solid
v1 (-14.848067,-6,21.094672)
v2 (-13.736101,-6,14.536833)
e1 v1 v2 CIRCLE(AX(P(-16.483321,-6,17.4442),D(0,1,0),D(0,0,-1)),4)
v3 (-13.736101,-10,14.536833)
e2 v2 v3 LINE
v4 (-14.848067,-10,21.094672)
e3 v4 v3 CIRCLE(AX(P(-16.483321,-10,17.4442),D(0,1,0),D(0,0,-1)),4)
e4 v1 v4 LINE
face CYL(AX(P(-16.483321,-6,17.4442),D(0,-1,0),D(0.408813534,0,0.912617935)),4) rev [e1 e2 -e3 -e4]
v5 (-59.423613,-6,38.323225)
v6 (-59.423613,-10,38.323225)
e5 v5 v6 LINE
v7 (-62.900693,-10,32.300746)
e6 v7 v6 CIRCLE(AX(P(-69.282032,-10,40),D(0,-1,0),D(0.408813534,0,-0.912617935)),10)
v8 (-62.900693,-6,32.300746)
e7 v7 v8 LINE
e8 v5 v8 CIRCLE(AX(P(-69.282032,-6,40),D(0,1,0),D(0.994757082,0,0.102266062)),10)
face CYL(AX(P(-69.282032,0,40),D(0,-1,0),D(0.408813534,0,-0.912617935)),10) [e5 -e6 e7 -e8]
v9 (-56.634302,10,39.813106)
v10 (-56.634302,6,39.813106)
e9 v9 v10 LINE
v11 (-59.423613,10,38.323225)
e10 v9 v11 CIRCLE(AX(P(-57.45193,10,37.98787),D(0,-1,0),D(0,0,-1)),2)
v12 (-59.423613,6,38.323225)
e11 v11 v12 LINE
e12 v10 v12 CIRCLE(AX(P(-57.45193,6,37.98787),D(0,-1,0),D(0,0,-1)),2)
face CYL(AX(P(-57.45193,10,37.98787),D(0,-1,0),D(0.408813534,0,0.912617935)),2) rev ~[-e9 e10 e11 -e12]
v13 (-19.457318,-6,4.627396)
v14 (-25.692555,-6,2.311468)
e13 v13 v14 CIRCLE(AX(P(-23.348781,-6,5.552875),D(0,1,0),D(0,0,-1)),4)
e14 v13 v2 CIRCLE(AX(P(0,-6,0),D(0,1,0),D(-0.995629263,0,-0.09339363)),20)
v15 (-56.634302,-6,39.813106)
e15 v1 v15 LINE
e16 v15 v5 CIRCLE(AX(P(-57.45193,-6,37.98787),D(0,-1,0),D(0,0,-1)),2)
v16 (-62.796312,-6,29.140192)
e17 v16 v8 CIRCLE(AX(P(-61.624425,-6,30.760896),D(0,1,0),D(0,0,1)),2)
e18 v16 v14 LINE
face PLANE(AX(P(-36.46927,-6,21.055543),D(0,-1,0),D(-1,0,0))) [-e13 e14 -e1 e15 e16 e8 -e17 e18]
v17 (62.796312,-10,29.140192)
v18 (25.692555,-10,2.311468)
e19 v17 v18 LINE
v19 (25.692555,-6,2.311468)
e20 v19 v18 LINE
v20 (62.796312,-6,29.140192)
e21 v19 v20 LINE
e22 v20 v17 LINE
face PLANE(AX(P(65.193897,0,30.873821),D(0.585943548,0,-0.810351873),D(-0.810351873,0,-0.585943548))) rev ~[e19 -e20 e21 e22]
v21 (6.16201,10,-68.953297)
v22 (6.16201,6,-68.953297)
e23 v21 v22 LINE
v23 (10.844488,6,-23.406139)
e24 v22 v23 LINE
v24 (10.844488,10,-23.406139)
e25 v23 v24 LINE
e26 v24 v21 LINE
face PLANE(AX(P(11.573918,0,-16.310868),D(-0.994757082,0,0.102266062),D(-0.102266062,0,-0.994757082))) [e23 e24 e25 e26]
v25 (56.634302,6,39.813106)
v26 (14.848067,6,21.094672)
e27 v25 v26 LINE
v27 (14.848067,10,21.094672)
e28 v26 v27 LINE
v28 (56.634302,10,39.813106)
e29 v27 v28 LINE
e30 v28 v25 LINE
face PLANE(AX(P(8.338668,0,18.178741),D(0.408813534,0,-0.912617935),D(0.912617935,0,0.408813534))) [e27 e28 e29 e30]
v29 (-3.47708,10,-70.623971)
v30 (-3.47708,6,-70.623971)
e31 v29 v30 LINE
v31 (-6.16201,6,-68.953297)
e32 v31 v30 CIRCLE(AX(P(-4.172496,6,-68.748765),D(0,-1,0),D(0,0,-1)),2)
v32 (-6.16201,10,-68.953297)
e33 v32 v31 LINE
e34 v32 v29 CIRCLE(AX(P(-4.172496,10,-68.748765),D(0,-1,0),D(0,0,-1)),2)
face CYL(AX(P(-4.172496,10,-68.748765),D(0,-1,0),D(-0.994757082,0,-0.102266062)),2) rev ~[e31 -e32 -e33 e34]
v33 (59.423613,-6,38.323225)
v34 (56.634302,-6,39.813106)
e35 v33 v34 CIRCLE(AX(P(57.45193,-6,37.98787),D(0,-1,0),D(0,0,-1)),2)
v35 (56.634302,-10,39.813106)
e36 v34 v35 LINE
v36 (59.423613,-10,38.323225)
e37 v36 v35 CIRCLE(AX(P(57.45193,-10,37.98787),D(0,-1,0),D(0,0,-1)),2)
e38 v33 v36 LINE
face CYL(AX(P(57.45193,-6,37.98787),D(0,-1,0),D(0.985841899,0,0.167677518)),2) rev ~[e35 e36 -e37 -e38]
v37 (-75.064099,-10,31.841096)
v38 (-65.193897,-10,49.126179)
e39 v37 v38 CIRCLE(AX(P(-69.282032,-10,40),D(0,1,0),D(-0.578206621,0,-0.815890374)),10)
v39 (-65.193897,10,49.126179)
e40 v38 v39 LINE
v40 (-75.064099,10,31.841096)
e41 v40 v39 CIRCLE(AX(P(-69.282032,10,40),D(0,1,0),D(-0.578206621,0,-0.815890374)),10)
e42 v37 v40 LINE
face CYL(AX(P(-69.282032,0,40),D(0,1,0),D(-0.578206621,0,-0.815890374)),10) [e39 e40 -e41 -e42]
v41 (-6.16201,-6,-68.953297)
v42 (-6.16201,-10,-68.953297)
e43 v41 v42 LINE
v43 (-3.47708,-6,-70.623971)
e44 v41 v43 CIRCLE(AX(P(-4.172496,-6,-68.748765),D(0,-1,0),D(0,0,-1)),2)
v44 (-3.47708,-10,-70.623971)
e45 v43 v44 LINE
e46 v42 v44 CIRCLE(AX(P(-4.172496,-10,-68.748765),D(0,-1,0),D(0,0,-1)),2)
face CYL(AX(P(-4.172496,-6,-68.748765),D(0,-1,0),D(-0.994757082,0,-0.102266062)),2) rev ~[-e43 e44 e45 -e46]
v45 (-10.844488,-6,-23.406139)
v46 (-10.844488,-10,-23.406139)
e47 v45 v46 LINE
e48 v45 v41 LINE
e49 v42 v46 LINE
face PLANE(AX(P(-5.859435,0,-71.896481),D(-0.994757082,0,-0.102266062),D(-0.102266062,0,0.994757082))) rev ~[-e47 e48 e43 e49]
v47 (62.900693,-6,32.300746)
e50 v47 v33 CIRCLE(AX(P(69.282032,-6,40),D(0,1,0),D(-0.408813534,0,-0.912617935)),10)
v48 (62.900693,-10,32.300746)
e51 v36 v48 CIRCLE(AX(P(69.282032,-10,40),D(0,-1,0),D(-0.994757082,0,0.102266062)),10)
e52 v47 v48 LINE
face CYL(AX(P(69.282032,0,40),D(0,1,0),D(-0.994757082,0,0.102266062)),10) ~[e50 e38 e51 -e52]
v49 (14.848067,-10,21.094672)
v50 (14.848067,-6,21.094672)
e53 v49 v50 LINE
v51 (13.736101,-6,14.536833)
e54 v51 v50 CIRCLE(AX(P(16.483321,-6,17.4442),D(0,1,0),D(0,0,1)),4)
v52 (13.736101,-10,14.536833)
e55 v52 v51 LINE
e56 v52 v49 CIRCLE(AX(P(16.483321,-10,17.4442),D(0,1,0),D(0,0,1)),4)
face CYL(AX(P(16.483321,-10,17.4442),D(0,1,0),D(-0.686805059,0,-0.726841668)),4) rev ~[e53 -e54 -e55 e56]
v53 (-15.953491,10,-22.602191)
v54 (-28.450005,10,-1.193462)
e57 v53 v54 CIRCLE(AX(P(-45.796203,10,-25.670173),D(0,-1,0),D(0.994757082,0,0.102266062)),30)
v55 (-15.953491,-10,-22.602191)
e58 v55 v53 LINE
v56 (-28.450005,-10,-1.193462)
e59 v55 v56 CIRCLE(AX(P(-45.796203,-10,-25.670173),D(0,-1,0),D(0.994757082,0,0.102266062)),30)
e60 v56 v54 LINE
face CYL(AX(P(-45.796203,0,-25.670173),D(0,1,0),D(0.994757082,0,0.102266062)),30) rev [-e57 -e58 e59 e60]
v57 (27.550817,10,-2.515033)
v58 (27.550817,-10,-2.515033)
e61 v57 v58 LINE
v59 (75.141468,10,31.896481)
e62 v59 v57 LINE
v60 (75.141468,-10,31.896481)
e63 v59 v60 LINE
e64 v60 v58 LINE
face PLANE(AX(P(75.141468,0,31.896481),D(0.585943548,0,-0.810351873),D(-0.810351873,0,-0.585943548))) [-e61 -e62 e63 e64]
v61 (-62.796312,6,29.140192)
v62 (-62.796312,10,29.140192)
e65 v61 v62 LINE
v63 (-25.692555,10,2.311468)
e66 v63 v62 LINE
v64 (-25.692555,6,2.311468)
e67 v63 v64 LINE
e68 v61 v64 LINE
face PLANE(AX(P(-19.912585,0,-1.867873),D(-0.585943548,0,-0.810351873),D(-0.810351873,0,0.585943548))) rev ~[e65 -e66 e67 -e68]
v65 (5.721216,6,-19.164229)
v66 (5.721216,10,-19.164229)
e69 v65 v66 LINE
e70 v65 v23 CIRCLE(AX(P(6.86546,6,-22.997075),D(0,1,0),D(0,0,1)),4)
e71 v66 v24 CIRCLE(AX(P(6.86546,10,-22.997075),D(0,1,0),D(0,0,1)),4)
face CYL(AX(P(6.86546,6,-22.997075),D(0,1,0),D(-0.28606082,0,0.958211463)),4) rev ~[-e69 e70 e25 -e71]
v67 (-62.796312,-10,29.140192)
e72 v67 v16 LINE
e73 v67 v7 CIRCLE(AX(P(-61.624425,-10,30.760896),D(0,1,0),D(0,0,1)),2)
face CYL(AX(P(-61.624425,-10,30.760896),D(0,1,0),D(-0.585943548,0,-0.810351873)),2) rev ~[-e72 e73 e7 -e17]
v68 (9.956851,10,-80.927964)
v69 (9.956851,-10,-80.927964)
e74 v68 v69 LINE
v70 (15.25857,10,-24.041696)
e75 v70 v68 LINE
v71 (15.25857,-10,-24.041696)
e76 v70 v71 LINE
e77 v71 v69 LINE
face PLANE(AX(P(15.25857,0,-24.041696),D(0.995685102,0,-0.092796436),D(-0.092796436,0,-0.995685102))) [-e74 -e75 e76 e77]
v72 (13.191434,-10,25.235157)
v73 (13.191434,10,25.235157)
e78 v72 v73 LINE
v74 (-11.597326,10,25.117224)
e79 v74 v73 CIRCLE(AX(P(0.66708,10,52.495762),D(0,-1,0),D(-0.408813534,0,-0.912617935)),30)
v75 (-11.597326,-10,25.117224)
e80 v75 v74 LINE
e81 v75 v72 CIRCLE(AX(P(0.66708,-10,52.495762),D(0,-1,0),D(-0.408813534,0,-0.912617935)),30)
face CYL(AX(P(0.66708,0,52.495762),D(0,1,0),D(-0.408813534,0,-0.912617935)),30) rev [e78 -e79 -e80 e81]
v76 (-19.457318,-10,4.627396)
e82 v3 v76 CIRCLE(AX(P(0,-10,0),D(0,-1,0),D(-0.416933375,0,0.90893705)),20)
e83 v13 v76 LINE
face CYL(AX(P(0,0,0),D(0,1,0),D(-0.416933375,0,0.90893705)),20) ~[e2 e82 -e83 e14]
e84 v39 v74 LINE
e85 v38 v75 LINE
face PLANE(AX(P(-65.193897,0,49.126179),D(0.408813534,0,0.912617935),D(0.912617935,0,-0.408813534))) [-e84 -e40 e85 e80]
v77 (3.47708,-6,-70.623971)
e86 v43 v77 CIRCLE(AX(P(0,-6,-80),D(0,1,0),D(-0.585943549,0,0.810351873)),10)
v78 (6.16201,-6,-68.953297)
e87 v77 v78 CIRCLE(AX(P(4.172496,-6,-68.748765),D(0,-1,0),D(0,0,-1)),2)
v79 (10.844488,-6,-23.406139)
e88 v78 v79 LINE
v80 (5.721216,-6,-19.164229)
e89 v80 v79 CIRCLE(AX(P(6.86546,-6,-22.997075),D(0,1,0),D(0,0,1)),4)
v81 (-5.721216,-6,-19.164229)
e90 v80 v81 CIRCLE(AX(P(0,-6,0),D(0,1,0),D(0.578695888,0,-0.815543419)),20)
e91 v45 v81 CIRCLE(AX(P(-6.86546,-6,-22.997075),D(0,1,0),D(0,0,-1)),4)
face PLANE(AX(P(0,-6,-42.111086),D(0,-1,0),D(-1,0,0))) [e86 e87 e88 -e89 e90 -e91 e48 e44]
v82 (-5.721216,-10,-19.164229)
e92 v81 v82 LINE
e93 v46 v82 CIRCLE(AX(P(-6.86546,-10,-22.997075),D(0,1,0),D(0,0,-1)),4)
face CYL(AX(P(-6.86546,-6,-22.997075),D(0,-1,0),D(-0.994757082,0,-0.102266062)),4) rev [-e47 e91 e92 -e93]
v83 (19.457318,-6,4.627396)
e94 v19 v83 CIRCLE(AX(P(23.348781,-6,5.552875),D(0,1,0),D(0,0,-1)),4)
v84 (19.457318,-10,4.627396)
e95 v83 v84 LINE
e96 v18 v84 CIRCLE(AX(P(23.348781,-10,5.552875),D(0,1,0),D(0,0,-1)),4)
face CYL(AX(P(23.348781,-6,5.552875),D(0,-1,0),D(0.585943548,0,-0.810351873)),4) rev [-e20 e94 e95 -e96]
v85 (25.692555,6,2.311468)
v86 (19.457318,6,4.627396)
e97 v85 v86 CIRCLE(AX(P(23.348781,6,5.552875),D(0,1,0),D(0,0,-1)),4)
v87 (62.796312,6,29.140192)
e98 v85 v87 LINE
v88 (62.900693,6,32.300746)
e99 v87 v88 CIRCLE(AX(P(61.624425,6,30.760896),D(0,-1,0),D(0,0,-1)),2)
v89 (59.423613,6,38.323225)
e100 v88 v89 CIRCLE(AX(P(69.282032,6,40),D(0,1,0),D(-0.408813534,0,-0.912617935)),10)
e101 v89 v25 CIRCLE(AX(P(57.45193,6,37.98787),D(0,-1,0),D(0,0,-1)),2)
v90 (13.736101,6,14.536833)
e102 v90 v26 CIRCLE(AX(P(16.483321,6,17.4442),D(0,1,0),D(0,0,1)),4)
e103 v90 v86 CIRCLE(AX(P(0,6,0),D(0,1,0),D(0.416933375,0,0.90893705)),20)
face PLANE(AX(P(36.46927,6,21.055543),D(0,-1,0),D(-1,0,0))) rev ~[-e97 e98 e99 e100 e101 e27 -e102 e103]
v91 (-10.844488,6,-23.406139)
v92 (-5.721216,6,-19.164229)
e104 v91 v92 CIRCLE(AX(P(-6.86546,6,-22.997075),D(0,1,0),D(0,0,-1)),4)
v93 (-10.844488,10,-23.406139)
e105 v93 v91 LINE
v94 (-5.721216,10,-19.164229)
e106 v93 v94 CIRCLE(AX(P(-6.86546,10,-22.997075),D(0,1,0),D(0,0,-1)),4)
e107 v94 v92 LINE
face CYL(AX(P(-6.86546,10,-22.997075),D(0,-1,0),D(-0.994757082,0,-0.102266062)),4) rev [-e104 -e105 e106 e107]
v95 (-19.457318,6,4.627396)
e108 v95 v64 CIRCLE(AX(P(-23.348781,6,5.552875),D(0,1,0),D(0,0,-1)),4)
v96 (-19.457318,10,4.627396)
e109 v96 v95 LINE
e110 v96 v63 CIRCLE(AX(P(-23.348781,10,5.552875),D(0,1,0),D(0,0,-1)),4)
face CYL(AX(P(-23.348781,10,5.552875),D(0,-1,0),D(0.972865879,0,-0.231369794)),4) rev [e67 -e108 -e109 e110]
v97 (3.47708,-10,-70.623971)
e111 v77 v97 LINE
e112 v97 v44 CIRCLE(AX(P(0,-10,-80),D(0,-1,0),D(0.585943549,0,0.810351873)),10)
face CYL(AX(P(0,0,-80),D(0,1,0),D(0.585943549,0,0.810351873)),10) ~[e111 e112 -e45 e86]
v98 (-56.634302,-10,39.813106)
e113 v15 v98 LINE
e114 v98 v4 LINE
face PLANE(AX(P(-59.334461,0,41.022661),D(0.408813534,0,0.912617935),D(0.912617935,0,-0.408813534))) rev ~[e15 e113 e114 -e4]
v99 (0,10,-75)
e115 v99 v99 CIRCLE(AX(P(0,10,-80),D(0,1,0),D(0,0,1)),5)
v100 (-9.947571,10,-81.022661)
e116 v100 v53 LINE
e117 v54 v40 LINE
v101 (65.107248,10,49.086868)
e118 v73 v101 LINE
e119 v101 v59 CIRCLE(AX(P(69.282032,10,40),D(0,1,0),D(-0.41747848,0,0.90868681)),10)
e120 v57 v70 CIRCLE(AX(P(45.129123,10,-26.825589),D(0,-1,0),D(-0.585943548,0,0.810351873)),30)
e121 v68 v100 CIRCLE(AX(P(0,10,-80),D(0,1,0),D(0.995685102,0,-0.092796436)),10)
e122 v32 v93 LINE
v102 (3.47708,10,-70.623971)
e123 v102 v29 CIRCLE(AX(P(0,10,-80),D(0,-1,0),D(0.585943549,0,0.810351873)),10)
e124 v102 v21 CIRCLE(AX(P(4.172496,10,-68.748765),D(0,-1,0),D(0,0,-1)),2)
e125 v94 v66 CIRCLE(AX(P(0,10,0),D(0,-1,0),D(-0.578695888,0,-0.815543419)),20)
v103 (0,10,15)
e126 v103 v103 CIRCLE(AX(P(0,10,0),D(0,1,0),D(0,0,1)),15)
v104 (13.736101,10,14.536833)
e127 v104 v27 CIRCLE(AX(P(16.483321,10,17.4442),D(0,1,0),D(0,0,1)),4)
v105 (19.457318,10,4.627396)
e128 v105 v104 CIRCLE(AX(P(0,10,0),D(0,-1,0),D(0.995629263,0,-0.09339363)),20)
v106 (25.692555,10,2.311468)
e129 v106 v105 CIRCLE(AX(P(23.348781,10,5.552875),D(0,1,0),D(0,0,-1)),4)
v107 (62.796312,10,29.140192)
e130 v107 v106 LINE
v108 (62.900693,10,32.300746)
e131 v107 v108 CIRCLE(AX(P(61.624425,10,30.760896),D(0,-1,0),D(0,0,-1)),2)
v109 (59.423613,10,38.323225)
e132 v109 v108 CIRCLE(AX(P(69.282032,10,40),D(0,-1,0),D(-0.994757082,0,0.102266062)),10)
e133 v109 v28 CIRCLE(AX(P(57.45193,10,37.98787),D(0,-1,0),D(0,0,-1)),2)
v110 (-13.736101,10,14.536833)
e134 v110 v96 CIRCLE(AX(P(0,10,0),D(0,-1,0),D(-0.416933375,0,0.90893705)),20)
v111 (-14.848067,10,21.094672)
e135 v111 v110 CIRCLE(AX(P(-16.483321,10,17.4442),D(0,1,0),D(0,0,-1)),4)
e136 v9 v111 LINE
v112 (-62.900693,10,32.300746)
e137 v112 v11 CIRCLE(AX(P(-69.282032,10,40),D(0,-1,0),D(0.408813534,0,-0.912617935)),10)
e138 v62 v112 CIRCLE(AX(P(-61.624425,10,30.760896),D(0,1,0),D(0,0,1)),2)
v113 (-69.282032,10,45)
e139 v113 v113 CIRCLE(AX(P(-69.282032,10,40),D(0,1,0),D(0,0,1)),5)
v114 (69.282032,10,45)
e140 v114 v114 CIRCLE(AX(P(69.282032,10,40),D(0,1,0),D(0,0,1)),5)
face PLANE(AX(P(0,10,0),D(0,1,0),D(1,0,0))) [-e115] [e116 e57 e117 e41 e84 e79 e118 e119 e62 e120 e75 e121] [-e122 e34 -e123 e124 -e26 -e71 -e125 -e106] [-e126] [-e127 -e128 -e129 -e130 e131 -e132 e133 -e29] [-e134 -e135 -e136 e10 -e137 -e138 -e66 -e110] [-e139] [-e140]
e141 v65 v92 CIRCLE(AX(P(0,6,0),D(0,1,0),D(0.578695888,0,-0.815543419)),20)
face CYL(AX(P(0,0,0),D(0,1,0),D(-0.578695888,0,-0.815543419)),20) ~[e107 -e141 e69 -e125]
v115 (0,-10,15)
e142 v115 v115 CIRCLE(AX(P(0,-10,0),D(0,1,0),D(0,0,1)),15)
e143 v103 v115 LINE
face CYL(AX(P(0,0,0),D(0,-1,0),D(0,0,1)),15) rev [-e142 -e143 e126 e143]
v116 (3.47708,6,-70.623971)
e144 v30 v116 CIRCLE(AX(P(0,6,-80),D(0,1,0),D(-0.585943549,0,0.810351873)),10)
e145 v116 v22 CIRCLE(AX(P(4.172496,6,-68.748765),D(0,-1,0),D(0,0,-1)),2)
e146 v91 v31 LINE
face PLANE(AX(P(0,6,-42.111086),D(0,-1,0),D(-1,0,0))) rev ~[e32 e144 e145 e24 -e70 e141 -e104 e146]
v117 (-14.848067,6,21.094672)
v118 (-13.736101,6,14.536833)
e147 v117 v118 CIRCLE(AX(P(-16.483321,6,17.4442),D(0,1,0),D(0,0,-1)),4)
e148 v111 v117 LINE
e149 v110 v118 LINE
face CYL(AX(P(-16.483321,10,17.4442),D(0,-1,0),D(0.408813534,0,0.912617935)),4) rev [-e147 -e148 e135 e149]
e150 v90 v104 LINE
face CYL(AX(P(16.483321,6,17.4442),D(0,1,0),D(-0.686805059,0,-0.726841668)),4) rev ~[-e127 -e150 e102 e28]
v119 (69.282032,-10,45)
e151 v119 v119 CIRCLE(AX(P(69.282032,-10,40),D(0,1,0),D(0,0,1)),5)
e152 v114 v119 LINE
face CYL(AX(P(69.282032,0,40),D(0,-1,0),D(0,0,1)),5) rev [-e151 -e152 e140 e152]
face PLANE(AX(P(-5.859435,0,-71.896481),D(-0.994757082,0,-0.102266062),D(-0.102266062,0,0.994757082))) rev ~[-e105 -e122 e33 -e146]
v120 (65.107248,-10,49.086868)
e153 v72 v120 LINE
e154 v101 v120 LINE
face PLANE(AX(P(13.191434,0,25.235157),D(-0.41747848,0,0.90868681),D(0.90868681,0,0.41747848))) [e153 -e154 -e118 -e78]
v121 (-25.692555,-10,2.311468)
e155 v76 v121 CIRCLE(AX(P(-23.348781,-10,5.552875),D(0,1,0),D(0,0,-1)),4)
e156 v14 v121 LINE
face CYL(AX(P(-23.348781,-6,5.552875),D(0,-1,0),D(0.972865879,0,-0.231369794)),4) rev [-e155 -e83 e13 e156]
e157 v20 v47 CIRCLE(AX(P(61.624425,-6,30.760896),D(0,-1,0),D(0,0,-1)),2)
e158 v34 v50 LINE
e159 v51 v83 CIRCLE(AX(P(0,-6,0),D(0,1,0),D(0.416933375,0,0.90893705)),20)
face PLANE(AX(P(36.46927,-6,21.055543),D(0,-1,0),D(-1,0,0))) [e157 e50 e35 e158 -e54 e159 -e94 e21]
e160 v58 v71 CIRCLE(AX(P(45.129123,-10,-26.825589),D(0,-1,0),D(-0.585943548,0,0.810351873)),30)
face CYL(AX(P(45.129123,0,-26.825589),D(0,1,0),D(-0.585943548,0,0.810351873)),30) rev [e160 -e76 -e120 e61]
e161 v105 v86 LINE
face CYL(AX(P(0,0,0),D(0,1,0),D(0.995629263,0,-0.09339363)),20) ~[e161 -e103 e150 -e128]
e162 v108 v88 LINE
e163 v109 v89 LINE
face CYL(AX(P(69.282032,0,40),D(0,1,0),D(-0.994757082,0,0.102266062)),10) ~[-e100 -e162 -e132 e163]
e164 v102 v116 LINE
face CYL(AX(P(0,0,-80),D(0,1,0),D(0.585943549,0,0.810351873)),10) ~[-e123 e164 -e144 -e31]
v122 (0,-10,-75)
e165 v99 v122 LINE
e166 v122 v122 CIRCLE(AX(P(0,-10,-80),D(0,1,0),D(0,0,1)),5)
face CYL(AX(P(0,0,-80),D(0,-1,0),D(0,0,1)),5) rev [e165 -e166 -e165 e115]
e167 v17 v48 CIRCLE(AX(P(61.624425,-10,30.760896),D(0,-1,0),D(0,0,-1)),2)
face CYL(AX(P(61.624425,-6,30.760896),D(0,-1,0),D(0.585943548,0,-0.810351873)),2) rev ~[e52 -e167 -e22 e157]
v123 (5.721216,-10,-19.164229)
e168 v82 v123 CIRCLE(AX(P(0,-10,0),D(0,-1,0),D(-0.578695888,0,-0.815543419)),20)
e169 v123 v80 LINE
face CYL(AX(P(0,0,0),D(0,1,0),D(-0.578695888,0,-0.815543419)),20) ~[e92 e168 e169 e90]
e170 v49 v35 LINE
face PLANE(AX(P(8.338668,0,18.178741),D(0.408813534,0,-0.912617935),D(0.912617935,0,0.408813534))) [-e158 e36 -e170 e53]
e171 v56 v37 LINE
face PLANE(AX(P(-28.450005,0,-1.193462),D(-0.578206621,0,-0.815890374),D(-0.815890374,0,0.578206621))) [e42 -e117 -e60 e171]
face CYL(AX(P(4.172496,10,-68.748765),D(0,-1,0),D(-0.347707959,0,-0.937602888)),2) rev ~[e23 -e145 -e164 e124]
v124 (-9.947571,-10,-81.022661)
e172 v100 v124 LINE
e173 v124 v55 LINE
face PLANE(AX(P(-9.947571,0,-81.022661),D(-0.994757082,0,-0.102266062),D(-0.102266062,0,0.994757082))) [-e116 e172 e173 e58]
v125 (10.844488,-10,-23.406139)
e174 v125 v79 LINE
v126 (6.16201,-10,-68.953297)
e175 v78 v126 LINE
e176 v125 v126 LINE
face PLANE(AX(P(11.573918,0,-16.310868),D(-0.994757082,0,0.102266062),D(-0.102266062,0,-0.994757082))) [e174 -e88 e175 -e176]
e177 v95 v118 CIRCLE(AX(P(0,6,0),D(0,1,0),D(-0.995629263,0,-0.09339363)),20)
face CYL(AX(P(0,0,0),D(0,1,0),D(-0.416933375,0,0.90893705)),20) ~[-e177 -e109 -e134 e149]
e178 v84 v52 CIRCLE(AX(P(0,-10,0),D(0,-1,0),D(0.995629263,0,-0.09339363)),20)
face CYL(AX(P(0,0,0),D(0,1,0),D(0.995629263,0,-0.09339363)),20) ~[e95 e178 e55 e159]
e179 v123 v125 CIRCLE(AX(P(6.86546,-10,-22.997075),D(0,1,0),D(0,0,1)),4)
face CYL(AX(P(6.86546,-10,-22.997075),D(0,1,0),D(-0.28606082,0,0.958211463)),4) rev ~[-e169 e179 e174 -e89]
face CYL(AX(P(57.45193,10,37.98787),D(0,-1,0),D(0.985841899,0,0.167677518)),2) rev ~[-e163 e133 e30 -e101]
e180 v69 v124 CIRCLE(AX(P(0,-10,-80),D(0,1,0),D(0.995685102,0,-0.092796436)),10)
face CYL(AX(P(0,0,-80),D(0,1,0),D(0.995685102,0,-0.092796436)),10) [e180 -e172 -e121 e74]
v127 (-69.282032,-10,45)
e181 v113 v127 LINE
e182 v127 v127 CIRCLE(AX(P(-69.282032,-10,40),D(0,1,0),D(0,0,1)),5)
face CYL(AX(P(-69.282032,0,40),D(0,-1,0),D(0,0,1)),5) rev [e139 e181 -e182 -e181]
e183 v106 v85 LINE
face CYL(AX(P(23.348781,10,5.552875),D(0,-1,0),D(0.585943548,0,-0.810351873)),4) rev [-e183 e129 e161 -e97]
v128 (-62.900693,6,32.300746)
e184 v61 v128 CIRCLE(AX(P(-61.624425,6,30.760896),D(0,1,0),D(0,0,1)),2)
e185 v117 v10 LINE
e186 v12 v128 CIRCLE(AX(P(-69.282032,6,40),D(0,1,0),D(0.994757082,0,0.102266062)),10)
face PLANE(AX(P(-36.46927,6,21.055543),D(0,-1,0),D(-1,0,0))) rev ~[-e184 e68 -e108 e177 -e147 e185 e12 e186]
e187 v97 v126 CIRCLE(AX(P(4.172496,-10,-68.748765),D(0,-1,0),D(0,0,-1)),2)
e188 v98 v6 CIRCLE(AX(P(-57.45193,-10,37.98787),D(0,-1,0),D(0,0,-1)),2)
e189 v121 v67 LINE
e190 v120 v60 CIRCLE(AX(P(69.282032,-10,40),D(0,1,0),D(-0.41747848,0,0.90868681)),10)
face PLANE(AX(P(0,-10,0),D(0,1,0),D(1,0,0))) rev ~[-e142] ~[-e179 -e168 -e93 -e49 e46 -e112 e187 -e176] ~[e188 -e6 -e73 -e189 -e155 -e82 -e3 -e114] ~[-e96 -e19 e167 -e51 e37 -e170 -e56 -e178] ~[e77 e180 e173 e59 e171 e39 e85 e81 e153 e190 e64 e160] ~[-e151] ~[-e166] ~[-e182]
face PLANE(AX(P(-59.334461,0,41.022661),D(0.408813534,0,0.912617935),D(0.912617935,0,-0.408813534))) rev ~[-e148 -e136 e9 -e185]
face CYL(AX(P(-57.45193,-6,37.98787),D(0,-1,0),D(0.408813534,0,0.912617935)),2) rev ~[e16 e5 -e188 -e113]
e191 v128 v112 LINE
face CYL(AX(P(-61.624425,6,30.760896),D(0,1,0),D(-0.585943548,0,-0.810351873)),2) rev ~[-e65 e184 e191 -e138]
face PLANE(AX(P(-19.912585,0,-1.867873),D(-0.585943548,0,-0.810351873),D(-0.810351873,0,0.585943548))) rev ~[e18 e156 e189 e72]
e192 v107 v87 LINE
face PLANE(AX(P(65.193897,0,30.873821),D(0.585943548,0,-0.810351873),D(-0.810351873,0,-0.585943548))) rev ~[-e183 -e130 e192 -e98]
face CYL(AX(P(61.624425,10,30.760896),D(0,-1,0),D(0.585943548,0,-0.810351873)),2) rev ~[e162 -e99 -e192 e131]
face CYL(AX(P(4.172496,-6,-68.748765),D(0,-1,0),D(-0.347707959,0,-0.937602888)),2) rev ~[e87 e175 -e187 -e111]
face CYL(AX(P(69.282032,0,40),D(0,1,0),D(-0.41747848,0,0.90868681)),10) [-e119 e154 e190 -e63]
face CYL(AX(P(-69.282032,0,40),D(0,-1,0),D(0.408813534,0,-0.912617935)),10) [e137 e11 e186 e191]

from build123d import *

# Parameters (mm, degrees)
SCHIZZO1_R                   = 15
SCHIZZO1_R_2                 = 5
ESTRUSIONE_ESTRUSIONE3_DEPTH = 10
ESTRUSIONE_ESTRUSIONE4_DEPTH = 6
RACCORDO1_R                  = 2
RACCORDO2_R                  = 4


with BuildPart() as part:
    # Schizzo1 → Estrusione-Estrusione3 (new, symmetric)
    with BuildSketch(Plane(origin=(0, 0, 0), x_dir=(1, 0, 0), z_dir=(0, 1, 0))):
        with BuildLine():
            Line((-9.947570822, 81.022660617), (-15.953490717, 22.602190996))
            ThreePointArc((-15.953490717, 22.602190996), (-19.887097519, 10.546739253), (-28.450004541, 1.193461616))
            Line((-28.450004541, 1.193461616), (-75.064098517, -31.841096257))
            ThreePointArc((-75.064098517, -31.841096257), (-77.965975808, -44.958742299), (-65.193896965, -49.126179346))
            Line((-65.193896965, -49.126179346), (-11.597326225, -25.117223738))
            ThreePointArc((-11.597326225, -25.117223738), (0.80980464, -22.496101285), (13.191434192, -25.235157478))
            Line((13.191434192, -25.235157478), (65.107247501, -49.0868681))
            ThreePointArc((65.107247501, -49.0868681), (77.918400858, -45.041144531), (75.141467788, -31.896481271))
            Line((75.141467788, -31.896481271), (27.550816942, 2.515032742))
            ThreePointArc((27.550816942, 2.515032742), (19.077292879, 11.949362033), (15.258570349, 24.041695862))
            Line((15.258570349, 24.041695862), (9.956851016, 80.927964356))
            ThreePointArc((9.956851016, 80.927964356), (0.047574951, 89.999886831), (-9.947570822, 81.022660617))
        make_face()
        Circle(SCHIZZO1_R, mode=Mode.SUBTRACT)
        with Locations((0, 80)):
            Circle(SCHIZZO1_R_2, mode=Mode.SUBTRACT)
        with Locations((69.282032303, -40)):
            Circle(SCHIZZO1_R_2, mode=Mode.SUBTRACT)
        with Locations((-69.282032303, -40)):
            Circle(SCHIZZO1_R_2, mode=Mode.SUBTRACT)
        with BuildLine():
            Line((-5.859435485, 71.896481271), (-11.573917762, 16.31086839))
            ThreePointArc((-11.573917762, 16.31086839), (0, 20), (11.573917762, 16.31086839))
            Line((11.573917762, 16.31086839), (5.859435485, 71.896481271))
            ThreePointArc((5.859435485, 71.896481271), (0, 70), (-5.859435485, 71.896481271))
        make_face(mode=Mode.SUBTRACT)
        with BuildLine():
            Line((65.193896965, -30.873820654), (19.912585265, 1.867872608))
            ThreePointArc((19.912585265, 1.867872608), (17.320508076, -10), (8.338667503, -18.178740998))
            Line((8.338667503, -18.178740998), (59.334461481, -41.022660617))
            ThreePointArc((59.334461481, -41.022660617), (60.621778265, -35), (65.193896965, -30.873820654))
        make_face(mode=Mode.SUBTRACT)
        with BuildLine():
            Line((-59.334461481, -41.022660617), (-8.338667503, -18.178740998))
            ThreePointArc((-8.338667503, -18.178740998), (-17.320508076, -10), (-19.912585265, 1.867872608))
            Line((-19.912585265, 1.867872608), (-65.193896965, -30.873820654))
            ThreePointArc((-65.193896965, -30.873820654), (-60.621778265, -35), (-59.334461481, -41.022660617))
        make_face(mode=Mode.SUBTRACT)
    extrude(amount=ESTRUSIONE_ESTRUSIONE3_DEPTH, both=True)

    # Schizzo1<2> → Estrusione-Estrusione4 (add, symmetric)
    with BuildSketch(Plane(origin=(0, 0, 0), x_dir=(1, 0, 0), z_dir=(0, 1, 0))):
        with BuildLine():
            ThreePointArc((5.859435485, 71.896481271), (0, 70), (-5.859435485, 71.896481271))
            Line((-5.859435485, 71.896481271), (-11.573917762, 16.31086839))
            ThreePointArc((-11.573917762, 16.31086839), (0, 20), (11.573917762, 16.31086839))
            Line((11.573917762, 16.31086839), (5.859435485, 71.896481271))
        make_face()
        with BuildLine():
            ThreePointArc((59.334461481, -41.022660617), (60.621778265, -35), (65.193896965, -30.873820654))
            Line((65.193896965, -30.873820654), (19.912585265, 1.867872608))
            ThreePointArc((19.912585265, 1.867872608), (17.320508076, -10), (8.338667503, -18.178740998))
            Line((8.338667503, -18.178740998), (59.334461481, -41.022660617))
        make_face()
        with BuildLine():
            ThreePointArc((-65.193896965, -30.873820654), (-60.621778265, -35), (-59.334461481, -41.022660617))
            Line((-59.334461481, -41.022660617), (-8.338667503, -18.178740998))
            ThreePointArc((-8.338667503, -18.178740998), (-17.320508076, -10), (-19.912585265, 1.867872608))
            Line((-19.912585265, 1.867872608), (-65.193896965, -30.873820654))
        make_face()
    extrude(amount=ESTRUSIONE_ESTRUSIONE4_DEPTH, both=True)

    # Raccordo1
    raccordo1_edges = [part.edges().sort_by_distance(p)[0] for p in [
        (-59.334461481, -8, 41.022660617),
        (-65.193896965, -8, 30.873820654),
        (-59.334461481, 8, 41.022660617),
        (-65.193896965, 8, 30.873820654),
        (65.193896965, 8, 30.873820654),
        (59.334461481, 8, 41.022660617),
        (59.334461481, -8, 41.022660617),
        (65.193896965, -8, 30.873820654),
        (-5.859435485, -8, -71.896481271),
        (-5.859435485, 8, -71.896481271),
        (5.859435485, 8, -71.896481271),
        (5.859435485, -8, -71.896481271),
    ]]
    fillet(raccordo1_edges, radius=RACCORDO1_R)

    # Raccordo2
    raccordo2_edges = [part.edges().sort_by_distance(p)[0] for p in [
        (-19.912585265, -8, -1.867872608),
        (-11.573917762, -8, -16.31086839),
        (11.573917762, -8, -16.31086839),
        (-8.338667503, -8, 18.178740998),
        (19.912585265, -8, -1.867872608),
        (8.338667503, -8, 18.178740998),
        (-11.573917762, 8, -16.31086839),
        (-8.338667503, 8, 18.178740998),
        (-19.912585265, 8, -1.867872608),
        (8.338667503, 8, 18.178740998),
        (19.912585265, 8, -1.867872608),
        (11.573917762, 8, -16.31086839),
    ]]
    fillet(raccordo2_edges, radius=RACCORDO2_R)


solid = part.part
